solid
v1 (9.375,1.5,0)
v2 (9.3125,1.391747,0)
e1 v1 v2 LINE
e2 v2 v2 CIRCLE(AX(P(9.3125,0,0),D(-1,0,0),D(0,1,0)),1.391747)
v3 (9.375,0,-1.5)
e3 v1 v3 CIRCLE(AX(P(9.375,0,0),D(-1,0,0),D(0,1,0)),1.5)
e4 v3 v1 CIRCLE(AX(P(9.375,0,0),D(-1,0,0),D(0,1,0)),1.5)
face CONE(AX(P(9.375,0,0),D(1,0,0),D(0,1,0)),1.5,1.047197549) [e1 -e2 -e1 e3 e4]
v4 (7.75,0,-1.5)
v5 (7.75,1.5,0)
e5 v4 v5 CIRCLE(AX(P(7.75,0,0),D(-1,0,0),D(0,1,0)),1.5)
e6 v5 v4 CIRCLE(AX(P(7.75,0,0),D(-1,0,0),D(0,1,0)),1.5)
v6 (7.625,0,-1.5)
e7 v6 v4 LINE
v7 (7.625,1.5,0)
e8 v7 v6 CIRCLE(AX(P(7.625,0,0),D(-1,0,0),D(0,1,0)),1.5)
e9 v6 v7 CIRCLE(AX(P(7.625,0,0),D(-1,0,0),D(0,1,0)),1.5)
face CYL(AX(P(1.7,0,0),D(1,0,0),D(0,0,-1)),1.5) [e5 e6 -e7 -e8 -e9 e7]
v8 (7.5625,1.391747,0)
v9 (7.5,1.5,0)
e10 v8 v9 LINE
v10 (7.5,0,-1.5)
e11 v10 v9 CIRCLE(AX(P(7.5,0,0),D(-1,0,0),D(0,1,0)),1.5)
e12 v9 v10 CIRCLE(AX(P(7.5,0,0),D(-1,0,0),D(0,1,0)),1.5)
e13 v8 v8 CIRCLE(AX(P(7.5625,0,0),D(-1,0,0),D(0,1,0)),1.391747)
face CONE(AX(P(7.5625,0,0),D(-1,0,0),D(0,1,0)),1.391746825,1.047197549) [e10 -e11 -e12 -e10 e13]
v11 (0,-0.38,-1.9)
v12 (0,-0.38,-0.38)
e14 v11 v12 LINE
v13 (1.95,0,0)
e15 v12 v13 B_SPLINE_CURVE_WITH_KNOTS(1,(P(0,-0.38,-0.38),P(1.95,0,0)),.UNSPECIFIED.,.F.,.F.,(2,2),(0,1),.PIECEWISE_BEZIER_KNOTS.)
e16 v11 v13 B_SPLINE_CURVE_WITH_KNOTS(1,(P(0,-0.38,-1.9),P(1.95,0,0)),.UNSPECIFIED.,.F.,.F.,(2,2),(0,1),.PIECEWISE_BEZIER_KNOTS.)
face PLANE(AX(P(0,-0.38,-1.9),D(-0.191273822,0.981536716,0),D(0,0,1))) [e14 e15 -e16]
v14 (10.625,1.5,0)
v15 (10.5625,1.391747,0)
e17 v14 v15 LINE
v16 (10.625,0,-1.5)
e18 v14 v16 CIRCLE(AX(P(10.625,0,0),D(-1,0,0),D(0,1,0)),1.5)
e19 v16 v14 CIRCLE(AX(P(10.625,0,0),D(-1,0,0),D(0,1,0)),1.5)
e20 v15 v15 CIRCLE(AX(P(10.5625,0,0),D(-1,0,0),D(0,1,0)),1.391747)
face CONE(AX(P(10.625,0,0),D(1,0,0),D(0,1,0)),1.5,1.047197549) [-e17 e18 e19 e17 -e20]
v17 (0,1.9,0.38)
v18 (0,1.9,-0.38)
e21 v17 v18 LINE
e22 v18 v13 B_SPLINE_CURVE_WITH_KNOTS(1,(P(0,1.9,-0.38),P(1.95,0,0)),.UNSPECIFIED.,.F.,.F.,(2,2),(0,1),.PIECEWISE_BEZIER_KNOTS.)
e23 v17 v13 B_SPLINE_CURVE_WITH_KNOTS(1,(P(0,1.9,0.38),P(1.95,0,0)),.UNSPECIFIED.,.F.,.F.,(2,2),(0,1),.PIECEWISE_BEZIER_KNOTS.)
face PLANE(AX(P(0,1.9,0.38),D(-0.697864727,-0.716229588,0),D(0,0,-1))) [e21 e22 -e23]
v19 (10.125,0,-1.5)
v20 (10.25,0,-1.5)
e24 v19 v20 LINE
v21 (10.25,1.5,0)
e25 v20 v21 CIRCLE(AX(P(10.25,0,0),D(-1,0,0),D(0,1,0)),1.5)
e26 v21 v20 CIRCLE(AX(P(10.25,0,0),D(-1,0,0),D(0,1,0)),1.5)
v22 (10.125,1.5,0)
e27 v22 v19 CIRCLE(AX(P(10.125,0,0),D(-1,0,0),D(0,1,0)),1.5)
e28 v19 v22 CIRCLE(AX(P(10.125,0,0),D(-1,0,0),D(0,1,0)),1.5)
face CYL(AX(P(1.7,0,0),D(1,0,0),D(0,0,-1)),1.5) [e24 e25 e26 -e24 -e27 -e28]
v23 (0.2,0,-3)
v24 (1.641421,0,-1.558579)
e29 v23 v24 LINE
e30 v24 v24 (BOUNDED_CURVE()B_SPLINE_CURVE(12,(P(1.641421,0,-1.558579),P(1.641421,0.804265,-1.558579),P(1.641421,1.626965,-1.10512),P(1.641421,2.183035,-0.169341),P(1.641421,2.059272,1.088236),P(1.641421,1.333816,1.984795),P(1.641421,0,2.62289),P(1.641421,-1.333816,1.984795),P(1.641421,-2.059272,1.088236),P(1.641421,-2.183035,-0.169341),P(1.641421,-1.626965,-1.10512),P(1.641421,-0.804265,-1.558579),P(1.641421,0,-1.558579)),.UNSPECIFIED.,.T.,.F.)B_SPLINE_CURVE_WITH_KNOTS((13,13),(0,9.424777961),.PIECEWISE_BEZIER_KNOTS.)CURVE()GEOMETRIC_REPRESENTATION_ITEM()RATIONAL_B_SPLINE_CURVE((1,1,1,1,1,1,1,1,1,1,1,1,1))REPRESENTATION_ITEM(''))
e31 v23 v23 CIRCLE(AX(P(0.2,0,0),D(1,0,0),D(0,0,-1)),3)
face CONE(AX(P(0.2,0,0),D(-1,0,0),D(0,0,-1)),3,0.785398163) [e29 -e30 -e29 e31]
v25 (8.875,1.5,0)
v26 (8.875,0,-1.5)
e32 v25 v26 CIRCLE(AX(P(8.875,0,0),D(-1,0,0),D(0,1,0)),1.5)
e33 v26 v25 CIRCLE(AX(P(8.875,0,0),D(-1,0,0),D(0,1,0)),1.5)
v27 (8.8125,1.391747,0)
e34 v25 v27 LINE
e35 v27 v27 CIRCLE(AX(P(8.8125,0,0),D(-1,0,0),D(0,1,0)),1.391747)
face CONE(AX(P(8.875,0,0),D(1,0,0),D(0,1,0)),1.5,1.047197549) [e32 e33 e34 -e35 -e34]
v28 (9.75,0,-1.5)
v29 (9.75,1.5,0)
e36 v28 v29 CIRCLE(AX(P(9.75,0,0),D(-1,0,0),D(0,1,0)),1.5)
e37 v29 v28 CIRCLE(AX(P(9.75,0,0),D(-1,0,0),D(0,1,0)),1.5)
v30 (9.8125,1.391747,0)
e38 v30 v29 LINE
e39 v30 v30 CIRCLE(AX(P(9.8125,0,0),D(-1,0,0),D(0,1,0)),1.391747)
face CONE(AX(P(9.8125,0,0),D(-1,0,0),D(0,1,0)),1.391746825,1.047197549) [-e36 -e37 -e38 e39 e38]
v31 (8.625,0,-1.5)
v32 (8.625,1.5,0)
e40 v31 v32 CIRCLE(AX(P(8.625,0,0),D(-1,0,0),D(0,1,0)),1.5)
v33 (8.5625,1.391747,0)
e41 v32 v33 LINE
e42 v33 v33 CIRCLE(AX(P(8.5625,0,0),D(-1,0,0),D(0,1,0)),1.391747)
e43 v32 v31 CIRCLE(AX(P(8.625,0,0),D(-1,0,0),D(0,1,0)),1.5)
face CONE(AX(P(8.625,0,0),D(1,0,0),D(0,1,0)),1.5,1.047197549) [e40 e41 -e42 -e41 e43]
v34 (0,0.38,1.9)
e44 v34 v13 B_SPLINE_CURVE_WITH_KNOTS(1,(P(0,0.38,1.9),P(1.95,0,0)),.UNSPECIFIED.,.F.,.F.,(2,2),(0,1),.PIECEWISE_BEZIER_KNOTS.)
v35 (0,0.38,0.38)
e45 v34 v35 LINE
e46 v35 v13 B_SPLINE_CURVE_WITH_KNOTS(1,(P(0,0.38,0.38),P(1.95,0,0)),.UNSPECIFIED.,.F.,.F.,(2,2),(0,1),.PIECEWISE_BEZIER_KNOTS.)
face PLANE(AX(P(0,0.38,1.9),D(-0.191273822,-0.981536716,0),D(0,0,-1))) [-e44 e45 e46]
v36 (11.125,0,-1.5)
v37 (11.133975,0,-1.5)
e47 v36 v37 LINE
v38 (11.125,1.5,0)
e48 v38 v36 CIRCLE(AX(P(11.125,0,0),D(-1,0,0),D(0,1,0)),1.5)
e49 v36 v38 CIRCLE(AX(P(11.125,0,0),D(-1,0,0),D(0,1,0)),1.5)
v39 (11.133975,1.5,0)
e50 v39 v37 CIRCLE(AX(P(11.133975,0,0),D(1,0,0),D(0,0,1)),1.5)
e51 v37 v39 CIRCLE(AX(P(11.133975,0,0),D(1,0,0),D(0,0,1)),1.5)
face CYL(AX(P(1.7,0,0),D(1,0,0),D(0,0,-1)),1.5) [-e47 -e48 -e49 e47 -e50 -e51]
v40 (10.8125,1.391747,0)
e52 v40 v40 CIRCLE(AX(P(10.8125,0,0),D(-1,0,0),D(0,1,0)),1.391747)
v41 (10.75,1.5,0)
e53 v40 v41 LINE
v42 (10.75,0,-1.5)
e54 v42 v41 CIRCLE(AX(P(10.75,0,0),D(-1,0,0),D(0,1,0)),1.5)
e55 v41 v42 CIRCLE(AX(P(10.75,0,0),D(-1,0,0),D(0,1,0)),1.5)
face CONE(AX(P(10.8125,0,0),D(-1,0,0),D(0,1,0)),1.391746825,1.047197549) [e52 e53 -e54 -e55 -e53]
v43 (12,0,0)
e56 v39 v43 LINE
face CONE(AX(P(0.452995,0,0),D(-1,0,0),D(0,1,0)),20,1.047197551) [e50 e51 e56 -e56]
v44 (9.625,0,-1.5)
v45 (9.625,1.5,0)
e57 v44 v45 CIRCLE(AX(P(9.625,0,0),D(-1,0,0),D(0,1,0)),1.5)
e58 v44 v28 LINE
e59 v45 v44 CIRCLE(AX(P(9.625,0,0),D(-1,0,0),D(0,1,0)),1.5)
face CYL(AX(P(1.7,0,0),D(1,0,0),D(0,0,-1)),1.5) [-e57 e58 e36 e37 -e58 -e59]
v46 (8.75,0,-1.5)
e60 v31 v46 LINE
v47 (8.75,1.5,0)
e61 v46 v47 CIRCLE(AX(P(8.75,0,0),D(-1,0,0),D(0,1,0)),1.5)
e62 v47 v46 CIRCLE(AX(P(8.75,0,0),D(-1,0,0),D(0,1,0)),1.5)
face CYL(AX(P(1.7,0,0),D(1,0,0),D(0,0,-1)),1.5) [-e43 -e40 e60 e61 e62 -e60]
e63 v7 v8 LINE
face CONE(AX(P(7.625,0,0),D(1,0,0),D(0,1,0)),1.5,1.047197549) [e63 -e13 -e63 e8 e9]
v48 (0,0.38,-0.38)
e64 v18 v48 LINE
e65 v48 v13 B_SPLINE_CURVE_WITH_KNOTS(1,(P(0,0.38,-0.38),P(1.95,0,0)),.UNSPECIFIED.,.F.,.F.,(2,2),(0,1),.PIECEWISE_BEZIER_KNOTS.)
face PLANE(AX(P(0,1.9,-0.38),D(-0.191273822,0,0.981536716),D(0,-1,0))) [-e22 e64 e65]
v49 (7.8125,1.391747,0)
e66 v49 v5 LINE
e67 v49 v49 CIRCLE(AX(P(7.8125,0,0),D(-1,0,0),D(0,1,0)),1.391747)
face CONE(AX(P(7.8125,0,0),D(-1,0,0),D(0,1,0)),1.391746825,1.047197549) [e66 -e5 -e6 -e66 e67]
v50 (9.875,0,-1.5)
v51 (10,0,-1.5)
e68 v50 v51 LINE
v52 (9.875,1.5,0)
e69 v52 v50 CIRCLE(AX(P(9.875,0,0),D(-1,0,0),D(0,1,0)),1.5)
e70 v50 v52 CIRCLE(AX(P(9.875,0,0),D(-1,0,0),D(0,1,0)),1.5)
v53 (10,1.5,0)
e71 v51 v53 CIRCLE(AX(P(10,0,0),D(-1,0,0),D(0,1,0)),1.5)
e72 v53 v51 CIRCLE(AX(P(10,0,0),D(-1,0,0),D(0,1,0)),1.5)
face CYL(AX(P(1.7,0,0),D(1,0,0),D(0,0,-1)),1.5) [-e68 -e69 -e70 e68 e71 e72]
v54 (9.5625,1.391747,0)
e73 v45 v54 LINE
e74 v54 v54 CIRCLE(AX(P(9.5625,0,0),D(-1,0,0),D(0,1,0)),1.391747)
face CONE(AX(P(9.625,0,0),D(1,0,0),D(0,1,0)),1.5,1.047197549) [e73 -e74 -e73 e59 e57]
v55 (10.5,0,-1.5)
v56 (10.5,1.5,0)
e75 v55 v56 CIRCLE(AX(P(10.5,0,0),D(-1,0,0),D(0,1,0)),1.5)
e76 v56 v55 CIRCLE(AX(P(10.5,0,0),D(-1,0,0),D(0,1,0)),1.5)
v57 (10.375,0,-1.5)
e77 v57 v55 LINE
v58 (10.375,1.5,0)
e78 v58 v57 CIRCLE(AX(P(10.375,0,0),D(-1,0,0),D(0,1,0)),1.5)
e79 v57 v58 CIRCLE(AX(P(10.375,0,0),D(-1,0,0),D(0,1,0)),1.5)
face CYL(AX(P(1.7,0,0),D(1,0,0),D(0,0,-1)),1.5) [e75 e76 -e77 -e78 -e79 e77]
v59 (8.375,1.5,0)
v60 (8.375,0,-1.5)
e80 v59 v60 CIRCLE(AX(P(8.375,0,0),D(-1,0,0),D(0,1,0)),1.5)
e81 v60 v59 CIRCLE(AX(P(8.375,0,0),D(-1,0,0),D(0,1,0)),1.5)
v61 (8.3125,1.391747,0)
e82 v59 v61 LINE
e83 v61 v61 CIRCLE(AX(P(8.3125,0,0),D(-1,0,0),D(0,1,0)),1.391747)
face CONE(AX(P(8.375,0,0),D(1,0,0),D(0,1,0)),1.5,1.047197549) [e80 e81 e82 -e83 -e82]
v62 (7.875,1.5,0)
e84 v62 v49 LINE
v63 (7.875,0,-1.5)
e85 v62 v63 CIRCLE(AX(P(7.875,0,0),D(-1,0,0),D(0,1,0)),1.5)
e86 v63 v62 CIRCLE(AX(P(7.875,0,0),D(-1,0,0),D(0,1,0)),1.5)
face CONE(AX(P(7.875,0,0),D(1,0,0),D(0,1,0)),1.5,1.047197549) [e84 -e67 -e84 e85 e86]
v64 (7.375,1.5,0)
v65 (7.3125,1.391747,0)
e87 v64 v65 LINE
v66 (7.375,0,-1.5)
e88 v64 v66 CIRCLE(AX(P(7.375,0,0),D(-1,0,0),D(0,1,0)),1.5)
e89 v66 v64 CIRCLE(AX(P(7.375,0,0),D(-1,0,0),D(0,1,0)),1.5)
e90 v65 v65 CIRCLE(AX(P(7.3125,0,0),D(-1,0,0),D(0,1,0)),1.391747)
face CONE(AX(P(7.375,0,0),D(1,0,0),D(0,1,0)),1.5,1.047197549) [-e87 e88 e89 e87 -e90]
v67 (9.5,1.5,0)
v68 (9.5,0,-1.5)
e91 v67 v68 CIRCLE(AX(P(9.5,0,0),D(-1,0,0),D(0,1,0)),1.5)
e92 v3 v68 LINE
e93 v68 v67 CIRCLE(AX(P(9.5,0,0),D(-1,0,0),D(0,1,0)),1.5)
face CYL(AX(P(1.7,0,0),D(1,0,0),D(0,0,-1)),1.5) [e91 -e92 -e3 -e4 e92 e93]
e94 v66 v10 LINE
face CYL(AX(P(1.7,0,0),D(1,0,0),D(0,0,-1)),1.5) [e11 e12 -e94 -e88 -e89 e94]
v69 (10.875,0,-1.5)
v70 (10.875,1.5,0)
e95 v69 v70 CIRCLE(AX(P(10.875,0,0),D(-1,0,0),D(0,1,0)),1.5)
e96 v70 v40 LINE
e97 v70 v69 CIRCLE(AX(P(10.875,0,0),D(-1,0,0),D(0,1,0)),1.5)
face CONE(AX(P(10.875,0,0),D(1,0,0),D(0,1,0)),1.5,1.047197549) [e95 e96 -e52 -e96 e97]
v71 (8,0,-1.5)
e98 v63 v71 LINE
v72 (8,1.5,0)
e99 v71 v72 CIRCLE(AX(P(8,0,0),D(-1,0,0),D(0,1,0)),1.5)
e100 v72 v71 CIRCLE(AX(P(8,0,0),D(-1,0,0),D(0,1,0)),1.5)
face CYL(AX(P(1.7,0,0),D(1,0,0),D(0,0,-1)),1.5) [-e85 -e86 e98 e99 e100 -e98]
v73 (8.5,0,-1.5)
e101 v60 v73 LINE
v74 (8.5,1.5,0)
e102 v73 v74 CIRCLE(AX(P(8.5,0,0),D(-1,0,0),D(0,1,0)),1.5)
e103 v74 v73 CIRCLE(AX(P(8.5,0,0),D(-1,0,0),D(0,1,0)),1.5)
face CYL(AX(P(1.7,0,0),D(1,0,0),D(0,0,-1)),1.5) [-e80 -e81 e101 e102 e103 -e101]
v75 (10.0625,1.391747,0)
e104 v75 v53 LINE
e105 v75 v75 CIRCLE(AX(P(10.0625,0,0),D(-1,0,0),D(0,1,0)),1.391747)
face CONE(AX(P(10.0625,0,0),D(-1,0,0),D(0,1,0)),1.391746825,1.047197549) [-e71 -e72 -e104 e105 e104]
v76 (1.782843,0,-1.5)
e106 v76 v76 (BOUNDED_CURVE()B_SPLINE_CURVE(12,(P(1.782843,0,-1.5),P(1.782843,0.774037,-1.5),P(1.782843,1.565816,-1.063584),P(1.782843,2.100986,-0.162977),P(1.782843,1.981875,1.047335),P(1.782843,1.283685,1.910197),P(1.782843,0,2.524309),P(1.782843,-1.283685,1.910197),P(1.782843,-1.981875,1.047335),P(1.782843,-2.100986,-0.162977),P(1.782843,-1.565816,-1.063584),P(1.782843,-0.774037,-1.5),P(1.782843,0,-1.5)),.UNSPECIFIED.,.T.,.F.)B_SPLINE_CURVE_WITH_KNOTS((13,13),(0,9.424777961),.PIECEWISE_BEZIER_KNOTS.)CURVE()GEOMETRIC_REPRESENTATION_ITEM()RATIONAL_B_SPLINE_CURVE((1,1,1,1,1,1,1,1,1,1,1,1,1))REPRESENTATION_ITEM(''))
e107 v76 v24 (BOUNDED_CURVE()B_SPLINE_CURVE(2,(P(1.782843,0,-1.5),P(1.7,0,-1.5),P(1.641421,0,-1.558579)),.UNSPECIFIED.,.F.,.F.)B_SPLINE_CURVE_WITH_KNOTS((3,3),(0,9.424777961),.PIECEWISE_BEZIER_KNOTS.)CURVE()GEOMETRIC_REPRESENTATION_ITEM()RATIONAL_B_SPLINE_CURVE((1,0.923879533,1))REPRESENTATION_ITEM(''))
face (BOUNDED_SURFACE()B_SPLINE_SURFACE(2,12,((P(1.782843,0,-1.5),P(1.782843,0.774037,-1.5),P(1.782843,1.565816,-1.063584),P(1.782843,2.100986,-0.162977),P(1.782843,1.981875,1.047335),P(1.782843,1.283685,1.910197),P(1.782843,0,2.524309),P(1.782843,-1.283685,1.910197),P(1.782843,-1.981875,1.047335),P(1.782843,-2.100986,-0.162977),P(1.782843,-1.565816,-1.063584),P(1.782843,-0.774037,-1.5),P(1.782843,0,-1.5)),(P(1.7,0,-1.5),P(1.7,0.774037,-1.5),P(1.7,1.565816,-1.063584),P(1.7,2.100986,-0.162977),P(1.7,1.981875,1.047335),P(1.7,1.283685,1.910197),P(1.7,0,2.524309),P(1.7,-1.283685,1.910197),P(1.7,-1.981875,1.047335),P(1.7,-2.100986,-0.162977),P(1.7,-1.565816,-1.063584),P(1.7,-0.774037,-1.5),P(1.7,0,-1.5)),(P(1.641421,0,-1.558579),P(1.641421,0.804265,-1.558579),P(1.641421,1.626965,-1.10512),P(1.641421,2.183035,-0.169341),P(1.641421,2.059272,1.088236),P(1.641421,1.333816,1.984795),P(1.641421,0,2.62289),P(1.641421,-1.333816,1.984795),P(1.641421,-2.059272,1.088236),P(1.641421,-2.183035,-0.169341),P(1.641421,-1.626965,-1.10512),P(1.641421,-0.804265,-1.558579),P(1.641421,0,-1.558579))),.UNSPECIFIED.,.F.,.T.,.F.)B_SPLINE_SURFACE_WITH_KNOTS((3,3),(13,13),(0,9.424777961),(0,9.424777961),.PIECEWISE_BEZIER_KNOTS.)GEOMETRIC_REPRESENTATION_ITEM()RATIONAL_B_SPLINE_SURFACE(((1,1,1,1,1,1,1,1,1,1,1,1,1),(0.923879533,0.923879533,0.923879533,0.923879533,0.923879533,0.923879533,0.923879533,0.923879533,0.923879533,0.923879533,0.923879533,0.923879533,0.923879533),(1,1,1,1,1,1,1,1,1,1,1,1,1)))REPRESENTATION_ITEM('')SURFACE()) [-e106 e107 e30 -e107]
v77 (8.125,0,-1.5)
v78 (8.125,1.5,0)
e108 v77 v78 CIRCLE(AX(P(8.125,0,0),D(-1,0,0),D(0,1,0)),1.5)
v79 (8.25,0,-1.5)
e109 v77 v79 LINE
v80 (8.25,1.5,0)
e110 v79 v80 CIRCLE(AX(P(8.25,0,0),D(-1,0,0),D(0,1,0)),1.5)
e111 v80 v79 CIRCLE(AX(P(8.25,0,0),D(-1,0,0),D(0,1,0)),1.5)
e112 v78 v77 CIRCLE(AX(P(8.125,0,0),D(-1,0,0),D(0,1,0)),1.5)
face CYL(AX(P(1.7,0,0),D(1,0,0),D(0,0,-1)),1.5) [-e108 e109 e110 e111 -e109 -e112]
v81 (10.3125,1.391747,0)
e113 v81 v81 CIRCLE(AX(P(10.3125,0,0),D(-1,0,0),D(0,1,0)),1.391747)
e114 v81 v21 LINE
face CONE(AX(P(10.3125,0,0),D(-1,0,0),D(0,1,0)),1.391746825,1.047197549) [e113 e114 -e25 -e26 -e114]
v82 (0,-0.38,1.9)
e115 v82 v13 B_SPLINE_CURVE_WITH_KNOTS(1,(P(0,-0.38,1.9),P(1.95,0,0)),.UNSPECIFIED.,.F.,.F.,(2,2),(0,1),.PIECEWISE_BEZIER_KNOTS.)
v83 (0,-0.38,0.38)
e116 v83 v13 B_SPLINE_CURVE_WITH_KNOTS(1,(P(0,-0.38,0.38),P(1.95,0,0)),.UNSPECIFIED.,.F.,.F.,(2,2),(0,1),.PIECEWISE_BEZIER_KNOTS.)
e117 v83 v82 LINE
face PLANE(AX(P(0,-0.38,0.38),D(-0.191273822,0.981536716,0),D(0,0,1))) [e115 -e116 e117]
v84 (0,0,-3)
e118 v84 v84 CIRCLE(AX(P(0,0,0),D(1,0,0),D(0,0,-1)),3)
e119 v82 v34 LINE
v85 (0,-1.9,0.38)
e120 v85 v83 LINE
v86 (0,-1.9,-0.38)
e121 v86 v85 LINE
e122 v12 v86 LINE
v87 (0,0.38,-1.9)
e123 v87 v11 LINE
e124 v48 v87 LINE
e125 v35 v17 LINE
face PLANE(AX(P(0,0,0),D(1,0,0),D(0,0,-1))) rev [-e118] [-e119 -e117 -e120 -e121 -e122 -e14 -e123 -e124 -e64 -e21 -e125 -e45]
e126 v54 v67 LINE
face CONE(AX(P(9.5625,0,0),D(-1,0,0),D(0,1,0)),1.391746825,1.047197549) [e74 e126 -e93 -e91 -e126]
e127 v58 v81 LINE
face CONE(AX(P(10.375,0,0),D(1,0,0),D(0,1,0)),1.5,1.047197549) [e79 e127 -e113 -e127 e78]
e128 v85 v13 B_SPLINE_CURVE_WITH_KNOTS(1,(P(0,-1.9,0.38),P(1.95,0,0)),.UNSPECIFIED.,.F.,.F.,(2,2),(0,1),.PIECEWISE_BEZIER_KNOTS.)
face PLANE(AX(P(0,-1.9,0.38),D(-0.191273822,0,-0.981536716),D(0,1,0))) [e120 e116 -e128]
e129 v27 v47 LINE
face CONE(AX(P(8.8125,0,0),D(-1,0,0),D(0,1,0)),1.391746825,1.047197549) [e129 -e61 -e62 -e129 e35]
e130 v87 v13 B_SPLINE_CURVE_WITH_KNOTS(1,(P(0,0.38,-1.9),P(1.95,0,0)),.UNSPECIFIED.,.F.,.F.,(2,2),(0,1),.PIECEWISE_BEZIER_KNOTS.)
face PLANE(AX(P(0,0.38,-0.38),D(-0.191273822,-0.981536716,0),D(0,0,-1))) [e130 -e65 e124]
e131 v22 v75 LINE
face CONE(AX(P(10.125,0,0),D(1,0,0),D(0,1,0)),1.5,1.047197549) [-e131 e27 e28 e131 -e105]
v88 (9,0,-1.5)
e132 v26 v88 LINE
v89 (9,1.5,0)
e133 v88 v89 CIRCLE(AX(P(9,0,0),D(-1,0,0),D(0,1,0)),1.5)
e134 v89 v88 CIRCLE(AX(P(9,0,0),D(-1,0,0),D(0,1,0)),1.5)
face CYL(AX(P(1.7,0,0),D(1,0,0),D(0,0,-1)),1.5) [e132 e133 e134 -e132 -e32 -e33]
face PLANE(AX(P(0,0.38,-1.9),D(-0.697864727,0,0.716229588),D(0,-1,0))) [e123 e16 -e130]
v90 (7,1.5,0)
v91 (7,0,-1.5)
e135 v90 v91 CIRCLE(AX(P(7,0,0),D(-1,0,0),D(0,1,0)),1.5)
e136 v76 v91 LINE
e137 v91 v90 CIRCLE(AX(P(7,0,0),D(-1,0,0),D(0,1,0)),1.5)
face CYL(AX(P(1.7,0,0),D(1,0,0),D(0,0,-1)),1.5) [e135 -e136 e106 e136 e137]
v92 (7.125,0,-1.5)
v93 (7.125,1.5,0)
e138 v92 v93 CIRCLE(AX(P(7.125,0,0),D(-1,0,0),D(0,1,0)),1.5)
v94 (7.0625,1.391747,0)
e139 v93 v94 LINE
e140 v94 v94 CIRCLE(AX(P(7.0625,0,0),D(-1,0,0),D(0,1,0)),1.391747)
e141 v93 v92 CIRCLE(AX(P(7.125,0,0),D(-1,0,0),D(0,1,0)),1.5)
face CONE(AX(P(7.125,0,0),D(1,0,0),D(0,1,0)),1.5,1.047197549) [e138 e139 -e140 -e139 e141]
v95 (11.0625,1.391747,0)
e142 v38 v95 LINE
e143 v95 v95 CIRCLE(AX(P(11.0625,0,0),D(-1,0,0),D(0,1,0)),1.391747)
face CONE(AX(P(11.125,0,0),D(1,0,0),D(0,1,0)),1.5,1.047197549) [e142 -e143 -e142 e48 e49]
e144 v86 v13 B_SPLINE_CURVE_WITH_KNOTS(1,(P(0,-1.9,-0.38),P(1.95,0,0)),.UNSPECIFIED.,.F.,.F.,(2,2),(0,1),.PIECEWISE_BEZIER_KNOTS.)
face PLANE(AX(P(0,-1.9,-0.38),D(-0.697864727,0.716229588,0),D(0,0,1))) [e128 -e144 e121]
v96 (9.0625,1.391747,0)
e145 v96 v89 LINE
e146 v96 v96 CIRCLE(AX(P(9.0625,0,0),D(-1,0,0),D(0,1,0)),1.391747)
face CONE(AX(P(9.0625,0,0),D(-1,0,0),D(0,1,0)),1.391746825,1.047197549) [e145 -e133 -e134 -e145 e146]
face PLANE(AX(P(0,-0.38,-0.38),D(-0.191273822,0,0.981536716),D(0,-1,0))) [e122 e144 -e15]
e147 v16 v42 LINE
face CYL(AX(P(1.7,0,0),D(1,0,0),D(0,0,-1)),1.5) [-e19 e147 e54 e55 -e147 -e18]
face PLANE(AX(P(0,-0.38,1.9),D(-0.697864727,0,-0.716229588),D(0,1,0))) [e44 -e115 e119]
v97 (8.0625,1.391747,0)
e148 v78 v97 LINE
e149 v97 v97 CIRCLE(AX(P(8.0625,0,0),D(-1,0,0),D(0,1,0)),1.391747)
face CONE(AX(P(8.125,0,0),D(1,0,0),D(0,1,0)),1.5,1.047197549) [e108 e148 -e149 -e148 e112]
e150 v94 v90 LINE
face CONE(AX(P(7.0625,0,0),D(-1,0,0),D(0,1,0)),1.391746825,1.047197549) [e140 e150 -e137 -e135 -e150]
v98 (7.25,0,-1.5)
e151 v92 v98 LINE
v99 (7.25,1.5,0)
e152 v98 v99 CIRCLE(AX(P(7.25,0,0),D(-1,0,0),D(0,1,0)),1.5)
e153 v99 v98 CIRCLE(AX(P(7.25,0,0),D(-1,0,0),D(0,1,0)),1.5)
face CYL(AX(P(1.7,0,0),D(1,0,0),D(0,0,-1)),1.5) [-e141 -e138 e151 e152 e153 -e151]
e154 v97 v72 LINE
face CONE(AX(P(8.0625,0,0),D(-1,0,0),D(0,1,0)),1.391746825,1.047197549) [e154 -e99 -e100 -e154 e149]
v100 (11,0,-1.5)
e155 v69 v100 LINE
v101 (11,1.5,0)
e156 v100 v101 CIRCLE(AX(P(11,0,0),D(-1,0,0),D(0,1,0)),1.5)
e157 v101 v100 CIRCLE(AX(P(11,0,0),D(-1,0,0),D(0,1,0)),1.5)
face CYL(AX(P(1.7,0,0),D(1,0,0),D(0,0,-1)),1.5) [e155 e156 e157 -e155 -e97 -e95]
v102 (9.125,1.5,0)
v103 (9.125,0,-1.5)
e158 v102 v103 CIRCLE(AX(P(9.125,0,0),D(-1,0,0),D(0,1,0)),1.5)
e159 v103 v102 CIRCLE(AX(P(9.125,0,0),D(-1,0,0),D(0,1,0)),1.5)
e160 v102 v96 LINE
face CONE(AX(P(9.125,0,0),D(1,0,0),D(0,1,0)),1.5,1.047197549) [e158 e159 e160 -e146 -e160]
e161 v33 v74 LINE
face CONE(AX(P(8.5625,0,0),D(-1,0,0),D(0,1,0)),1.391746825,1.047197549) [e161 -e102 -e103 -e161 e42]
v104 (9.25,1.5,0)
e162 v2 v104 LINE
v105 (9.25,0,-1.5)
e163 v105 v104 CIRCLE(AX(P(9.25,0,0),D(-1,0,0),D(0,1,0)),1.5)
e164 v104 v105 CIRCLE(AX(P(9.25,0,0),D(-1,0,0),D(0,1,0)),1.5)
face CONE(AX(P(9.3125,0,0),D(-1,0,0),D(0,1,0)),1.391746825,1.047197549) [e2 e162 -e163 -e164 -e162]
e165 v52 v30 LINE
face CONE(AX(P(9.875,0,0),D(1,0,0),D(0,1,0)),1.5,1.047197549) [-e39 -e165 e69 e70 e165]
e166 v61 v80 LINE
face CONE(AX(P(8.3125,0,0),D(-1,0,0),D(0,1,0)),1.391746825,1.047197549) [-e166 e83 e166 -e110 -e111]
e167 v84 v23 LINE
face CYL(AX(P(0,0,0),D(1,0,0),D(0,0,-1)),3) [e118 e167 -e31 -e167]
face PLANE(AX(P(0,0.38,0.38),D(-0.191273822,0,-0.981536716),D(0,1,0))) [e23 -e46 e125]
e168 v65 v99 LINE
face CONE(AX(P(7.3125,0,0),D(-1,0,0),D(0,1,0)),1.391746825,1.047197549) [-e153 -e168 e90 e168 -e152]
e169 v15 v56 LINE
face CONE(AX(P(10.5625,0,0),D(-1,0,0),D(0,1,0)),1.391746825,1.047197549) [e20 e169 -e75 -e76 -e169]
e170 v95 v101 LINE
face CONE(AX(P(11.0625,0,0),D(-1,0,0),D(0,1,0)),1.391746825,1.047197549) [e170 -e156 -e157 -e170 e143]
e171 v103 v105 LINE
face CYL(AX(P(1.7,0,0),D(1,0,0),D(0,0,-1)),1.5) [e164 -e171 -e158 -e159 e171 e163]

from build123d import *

# Parameters (mm, degrees)
FILLET2_R        = 0.2
LPATTERN10_COUNT = 20
LPATTERN10_PITCH = 0.25


with BuildPart() as part:
    # Sketch1 → Base (revolve)
    with BuildSketch(Plane(origin=(0, 0, 0), x_dir=(1, 0, 0), z_dir=(0, 1, 0))):
        Polygon((1.7, 1.5), (12, 1.5), (12, 0), (0, 0), (0, 3), (0.2, 3), align=None)
    revolve(axis=Axis((-6.506452013, 0, 0), (1, 0, 0)))

    # Sketch3 → Cut-Revolve1 (revolve, cut)
    with BuildSketch(Plane.XY):
        Polygon((12.15755877, 0), (12.15755877, 20), (0.452994616, 20), (12, 0), align=None)
    revolve(axis=Axis((4.883468835, 0, 0), (1, 0, 0)), mode=Mode.SUBTRACT)

    # Fillet2
    fillet2_edges = [part.edges().sort_by_distance(p)[0] for p in [
        (1.7, 0, 1.5),
    ]]
    fillet(fillet2_edges, radius=FILLET2_R)

    # Sketch2 → Cut-Loft1 section 0
    with BuildSketch(Plane(origin=(0, -0.680816871, 0.306758275), x_dir=(0, 0, 1), z_dir=(-1, 0, 0)), mode=Mode.PRIVATE) as cut_loft1_s0:
        Polygon((-0.686758275, 1.060816871), (-2.206758275, 1.060816871), (-2.206758275, 0.300816871), (-0.686758275, 0.300816871), (-0.686758275, -1.219183129), (0.073241725, -1.219183129), (0.073241725, 0.300816871), (1.593241725, 0.300816871), (1.593241725, 1.060816871), (0.073241725, 1.060816871), (0.073241725, 2.580816871), (-0.686758275, 2.580816871), align=None)
    loft([cut_loft1_s0.sketch, Vertex(1.95, 0, 0)], mode=Mode.SUBTRACT)

    # Sketch5 → Cut-Revolve10 (revolve, cut)
    with BuildSketch(Plane.XY):
        Polygon((7, 1.7), (7.125, 1.7), (7.125, 1.5), (7.0625, 1.391746825), (7, 1.5), align=None)
    cut_revolve10 = revolve(axis=Axis((10.774329131, 0, 0), (-1, 0, 0)), mode=Mode.SUBTRACT)

    # LPattern10: Cut-Revolve10 ×20
    with Locations(*[(i * LPATTERN10_PITCH, 0, 0) for i in range(1, LPATTERN10_COUNT)]):
        add(cut_revolve10, mode=Mode.SUBTRACT)


solid = part.part
